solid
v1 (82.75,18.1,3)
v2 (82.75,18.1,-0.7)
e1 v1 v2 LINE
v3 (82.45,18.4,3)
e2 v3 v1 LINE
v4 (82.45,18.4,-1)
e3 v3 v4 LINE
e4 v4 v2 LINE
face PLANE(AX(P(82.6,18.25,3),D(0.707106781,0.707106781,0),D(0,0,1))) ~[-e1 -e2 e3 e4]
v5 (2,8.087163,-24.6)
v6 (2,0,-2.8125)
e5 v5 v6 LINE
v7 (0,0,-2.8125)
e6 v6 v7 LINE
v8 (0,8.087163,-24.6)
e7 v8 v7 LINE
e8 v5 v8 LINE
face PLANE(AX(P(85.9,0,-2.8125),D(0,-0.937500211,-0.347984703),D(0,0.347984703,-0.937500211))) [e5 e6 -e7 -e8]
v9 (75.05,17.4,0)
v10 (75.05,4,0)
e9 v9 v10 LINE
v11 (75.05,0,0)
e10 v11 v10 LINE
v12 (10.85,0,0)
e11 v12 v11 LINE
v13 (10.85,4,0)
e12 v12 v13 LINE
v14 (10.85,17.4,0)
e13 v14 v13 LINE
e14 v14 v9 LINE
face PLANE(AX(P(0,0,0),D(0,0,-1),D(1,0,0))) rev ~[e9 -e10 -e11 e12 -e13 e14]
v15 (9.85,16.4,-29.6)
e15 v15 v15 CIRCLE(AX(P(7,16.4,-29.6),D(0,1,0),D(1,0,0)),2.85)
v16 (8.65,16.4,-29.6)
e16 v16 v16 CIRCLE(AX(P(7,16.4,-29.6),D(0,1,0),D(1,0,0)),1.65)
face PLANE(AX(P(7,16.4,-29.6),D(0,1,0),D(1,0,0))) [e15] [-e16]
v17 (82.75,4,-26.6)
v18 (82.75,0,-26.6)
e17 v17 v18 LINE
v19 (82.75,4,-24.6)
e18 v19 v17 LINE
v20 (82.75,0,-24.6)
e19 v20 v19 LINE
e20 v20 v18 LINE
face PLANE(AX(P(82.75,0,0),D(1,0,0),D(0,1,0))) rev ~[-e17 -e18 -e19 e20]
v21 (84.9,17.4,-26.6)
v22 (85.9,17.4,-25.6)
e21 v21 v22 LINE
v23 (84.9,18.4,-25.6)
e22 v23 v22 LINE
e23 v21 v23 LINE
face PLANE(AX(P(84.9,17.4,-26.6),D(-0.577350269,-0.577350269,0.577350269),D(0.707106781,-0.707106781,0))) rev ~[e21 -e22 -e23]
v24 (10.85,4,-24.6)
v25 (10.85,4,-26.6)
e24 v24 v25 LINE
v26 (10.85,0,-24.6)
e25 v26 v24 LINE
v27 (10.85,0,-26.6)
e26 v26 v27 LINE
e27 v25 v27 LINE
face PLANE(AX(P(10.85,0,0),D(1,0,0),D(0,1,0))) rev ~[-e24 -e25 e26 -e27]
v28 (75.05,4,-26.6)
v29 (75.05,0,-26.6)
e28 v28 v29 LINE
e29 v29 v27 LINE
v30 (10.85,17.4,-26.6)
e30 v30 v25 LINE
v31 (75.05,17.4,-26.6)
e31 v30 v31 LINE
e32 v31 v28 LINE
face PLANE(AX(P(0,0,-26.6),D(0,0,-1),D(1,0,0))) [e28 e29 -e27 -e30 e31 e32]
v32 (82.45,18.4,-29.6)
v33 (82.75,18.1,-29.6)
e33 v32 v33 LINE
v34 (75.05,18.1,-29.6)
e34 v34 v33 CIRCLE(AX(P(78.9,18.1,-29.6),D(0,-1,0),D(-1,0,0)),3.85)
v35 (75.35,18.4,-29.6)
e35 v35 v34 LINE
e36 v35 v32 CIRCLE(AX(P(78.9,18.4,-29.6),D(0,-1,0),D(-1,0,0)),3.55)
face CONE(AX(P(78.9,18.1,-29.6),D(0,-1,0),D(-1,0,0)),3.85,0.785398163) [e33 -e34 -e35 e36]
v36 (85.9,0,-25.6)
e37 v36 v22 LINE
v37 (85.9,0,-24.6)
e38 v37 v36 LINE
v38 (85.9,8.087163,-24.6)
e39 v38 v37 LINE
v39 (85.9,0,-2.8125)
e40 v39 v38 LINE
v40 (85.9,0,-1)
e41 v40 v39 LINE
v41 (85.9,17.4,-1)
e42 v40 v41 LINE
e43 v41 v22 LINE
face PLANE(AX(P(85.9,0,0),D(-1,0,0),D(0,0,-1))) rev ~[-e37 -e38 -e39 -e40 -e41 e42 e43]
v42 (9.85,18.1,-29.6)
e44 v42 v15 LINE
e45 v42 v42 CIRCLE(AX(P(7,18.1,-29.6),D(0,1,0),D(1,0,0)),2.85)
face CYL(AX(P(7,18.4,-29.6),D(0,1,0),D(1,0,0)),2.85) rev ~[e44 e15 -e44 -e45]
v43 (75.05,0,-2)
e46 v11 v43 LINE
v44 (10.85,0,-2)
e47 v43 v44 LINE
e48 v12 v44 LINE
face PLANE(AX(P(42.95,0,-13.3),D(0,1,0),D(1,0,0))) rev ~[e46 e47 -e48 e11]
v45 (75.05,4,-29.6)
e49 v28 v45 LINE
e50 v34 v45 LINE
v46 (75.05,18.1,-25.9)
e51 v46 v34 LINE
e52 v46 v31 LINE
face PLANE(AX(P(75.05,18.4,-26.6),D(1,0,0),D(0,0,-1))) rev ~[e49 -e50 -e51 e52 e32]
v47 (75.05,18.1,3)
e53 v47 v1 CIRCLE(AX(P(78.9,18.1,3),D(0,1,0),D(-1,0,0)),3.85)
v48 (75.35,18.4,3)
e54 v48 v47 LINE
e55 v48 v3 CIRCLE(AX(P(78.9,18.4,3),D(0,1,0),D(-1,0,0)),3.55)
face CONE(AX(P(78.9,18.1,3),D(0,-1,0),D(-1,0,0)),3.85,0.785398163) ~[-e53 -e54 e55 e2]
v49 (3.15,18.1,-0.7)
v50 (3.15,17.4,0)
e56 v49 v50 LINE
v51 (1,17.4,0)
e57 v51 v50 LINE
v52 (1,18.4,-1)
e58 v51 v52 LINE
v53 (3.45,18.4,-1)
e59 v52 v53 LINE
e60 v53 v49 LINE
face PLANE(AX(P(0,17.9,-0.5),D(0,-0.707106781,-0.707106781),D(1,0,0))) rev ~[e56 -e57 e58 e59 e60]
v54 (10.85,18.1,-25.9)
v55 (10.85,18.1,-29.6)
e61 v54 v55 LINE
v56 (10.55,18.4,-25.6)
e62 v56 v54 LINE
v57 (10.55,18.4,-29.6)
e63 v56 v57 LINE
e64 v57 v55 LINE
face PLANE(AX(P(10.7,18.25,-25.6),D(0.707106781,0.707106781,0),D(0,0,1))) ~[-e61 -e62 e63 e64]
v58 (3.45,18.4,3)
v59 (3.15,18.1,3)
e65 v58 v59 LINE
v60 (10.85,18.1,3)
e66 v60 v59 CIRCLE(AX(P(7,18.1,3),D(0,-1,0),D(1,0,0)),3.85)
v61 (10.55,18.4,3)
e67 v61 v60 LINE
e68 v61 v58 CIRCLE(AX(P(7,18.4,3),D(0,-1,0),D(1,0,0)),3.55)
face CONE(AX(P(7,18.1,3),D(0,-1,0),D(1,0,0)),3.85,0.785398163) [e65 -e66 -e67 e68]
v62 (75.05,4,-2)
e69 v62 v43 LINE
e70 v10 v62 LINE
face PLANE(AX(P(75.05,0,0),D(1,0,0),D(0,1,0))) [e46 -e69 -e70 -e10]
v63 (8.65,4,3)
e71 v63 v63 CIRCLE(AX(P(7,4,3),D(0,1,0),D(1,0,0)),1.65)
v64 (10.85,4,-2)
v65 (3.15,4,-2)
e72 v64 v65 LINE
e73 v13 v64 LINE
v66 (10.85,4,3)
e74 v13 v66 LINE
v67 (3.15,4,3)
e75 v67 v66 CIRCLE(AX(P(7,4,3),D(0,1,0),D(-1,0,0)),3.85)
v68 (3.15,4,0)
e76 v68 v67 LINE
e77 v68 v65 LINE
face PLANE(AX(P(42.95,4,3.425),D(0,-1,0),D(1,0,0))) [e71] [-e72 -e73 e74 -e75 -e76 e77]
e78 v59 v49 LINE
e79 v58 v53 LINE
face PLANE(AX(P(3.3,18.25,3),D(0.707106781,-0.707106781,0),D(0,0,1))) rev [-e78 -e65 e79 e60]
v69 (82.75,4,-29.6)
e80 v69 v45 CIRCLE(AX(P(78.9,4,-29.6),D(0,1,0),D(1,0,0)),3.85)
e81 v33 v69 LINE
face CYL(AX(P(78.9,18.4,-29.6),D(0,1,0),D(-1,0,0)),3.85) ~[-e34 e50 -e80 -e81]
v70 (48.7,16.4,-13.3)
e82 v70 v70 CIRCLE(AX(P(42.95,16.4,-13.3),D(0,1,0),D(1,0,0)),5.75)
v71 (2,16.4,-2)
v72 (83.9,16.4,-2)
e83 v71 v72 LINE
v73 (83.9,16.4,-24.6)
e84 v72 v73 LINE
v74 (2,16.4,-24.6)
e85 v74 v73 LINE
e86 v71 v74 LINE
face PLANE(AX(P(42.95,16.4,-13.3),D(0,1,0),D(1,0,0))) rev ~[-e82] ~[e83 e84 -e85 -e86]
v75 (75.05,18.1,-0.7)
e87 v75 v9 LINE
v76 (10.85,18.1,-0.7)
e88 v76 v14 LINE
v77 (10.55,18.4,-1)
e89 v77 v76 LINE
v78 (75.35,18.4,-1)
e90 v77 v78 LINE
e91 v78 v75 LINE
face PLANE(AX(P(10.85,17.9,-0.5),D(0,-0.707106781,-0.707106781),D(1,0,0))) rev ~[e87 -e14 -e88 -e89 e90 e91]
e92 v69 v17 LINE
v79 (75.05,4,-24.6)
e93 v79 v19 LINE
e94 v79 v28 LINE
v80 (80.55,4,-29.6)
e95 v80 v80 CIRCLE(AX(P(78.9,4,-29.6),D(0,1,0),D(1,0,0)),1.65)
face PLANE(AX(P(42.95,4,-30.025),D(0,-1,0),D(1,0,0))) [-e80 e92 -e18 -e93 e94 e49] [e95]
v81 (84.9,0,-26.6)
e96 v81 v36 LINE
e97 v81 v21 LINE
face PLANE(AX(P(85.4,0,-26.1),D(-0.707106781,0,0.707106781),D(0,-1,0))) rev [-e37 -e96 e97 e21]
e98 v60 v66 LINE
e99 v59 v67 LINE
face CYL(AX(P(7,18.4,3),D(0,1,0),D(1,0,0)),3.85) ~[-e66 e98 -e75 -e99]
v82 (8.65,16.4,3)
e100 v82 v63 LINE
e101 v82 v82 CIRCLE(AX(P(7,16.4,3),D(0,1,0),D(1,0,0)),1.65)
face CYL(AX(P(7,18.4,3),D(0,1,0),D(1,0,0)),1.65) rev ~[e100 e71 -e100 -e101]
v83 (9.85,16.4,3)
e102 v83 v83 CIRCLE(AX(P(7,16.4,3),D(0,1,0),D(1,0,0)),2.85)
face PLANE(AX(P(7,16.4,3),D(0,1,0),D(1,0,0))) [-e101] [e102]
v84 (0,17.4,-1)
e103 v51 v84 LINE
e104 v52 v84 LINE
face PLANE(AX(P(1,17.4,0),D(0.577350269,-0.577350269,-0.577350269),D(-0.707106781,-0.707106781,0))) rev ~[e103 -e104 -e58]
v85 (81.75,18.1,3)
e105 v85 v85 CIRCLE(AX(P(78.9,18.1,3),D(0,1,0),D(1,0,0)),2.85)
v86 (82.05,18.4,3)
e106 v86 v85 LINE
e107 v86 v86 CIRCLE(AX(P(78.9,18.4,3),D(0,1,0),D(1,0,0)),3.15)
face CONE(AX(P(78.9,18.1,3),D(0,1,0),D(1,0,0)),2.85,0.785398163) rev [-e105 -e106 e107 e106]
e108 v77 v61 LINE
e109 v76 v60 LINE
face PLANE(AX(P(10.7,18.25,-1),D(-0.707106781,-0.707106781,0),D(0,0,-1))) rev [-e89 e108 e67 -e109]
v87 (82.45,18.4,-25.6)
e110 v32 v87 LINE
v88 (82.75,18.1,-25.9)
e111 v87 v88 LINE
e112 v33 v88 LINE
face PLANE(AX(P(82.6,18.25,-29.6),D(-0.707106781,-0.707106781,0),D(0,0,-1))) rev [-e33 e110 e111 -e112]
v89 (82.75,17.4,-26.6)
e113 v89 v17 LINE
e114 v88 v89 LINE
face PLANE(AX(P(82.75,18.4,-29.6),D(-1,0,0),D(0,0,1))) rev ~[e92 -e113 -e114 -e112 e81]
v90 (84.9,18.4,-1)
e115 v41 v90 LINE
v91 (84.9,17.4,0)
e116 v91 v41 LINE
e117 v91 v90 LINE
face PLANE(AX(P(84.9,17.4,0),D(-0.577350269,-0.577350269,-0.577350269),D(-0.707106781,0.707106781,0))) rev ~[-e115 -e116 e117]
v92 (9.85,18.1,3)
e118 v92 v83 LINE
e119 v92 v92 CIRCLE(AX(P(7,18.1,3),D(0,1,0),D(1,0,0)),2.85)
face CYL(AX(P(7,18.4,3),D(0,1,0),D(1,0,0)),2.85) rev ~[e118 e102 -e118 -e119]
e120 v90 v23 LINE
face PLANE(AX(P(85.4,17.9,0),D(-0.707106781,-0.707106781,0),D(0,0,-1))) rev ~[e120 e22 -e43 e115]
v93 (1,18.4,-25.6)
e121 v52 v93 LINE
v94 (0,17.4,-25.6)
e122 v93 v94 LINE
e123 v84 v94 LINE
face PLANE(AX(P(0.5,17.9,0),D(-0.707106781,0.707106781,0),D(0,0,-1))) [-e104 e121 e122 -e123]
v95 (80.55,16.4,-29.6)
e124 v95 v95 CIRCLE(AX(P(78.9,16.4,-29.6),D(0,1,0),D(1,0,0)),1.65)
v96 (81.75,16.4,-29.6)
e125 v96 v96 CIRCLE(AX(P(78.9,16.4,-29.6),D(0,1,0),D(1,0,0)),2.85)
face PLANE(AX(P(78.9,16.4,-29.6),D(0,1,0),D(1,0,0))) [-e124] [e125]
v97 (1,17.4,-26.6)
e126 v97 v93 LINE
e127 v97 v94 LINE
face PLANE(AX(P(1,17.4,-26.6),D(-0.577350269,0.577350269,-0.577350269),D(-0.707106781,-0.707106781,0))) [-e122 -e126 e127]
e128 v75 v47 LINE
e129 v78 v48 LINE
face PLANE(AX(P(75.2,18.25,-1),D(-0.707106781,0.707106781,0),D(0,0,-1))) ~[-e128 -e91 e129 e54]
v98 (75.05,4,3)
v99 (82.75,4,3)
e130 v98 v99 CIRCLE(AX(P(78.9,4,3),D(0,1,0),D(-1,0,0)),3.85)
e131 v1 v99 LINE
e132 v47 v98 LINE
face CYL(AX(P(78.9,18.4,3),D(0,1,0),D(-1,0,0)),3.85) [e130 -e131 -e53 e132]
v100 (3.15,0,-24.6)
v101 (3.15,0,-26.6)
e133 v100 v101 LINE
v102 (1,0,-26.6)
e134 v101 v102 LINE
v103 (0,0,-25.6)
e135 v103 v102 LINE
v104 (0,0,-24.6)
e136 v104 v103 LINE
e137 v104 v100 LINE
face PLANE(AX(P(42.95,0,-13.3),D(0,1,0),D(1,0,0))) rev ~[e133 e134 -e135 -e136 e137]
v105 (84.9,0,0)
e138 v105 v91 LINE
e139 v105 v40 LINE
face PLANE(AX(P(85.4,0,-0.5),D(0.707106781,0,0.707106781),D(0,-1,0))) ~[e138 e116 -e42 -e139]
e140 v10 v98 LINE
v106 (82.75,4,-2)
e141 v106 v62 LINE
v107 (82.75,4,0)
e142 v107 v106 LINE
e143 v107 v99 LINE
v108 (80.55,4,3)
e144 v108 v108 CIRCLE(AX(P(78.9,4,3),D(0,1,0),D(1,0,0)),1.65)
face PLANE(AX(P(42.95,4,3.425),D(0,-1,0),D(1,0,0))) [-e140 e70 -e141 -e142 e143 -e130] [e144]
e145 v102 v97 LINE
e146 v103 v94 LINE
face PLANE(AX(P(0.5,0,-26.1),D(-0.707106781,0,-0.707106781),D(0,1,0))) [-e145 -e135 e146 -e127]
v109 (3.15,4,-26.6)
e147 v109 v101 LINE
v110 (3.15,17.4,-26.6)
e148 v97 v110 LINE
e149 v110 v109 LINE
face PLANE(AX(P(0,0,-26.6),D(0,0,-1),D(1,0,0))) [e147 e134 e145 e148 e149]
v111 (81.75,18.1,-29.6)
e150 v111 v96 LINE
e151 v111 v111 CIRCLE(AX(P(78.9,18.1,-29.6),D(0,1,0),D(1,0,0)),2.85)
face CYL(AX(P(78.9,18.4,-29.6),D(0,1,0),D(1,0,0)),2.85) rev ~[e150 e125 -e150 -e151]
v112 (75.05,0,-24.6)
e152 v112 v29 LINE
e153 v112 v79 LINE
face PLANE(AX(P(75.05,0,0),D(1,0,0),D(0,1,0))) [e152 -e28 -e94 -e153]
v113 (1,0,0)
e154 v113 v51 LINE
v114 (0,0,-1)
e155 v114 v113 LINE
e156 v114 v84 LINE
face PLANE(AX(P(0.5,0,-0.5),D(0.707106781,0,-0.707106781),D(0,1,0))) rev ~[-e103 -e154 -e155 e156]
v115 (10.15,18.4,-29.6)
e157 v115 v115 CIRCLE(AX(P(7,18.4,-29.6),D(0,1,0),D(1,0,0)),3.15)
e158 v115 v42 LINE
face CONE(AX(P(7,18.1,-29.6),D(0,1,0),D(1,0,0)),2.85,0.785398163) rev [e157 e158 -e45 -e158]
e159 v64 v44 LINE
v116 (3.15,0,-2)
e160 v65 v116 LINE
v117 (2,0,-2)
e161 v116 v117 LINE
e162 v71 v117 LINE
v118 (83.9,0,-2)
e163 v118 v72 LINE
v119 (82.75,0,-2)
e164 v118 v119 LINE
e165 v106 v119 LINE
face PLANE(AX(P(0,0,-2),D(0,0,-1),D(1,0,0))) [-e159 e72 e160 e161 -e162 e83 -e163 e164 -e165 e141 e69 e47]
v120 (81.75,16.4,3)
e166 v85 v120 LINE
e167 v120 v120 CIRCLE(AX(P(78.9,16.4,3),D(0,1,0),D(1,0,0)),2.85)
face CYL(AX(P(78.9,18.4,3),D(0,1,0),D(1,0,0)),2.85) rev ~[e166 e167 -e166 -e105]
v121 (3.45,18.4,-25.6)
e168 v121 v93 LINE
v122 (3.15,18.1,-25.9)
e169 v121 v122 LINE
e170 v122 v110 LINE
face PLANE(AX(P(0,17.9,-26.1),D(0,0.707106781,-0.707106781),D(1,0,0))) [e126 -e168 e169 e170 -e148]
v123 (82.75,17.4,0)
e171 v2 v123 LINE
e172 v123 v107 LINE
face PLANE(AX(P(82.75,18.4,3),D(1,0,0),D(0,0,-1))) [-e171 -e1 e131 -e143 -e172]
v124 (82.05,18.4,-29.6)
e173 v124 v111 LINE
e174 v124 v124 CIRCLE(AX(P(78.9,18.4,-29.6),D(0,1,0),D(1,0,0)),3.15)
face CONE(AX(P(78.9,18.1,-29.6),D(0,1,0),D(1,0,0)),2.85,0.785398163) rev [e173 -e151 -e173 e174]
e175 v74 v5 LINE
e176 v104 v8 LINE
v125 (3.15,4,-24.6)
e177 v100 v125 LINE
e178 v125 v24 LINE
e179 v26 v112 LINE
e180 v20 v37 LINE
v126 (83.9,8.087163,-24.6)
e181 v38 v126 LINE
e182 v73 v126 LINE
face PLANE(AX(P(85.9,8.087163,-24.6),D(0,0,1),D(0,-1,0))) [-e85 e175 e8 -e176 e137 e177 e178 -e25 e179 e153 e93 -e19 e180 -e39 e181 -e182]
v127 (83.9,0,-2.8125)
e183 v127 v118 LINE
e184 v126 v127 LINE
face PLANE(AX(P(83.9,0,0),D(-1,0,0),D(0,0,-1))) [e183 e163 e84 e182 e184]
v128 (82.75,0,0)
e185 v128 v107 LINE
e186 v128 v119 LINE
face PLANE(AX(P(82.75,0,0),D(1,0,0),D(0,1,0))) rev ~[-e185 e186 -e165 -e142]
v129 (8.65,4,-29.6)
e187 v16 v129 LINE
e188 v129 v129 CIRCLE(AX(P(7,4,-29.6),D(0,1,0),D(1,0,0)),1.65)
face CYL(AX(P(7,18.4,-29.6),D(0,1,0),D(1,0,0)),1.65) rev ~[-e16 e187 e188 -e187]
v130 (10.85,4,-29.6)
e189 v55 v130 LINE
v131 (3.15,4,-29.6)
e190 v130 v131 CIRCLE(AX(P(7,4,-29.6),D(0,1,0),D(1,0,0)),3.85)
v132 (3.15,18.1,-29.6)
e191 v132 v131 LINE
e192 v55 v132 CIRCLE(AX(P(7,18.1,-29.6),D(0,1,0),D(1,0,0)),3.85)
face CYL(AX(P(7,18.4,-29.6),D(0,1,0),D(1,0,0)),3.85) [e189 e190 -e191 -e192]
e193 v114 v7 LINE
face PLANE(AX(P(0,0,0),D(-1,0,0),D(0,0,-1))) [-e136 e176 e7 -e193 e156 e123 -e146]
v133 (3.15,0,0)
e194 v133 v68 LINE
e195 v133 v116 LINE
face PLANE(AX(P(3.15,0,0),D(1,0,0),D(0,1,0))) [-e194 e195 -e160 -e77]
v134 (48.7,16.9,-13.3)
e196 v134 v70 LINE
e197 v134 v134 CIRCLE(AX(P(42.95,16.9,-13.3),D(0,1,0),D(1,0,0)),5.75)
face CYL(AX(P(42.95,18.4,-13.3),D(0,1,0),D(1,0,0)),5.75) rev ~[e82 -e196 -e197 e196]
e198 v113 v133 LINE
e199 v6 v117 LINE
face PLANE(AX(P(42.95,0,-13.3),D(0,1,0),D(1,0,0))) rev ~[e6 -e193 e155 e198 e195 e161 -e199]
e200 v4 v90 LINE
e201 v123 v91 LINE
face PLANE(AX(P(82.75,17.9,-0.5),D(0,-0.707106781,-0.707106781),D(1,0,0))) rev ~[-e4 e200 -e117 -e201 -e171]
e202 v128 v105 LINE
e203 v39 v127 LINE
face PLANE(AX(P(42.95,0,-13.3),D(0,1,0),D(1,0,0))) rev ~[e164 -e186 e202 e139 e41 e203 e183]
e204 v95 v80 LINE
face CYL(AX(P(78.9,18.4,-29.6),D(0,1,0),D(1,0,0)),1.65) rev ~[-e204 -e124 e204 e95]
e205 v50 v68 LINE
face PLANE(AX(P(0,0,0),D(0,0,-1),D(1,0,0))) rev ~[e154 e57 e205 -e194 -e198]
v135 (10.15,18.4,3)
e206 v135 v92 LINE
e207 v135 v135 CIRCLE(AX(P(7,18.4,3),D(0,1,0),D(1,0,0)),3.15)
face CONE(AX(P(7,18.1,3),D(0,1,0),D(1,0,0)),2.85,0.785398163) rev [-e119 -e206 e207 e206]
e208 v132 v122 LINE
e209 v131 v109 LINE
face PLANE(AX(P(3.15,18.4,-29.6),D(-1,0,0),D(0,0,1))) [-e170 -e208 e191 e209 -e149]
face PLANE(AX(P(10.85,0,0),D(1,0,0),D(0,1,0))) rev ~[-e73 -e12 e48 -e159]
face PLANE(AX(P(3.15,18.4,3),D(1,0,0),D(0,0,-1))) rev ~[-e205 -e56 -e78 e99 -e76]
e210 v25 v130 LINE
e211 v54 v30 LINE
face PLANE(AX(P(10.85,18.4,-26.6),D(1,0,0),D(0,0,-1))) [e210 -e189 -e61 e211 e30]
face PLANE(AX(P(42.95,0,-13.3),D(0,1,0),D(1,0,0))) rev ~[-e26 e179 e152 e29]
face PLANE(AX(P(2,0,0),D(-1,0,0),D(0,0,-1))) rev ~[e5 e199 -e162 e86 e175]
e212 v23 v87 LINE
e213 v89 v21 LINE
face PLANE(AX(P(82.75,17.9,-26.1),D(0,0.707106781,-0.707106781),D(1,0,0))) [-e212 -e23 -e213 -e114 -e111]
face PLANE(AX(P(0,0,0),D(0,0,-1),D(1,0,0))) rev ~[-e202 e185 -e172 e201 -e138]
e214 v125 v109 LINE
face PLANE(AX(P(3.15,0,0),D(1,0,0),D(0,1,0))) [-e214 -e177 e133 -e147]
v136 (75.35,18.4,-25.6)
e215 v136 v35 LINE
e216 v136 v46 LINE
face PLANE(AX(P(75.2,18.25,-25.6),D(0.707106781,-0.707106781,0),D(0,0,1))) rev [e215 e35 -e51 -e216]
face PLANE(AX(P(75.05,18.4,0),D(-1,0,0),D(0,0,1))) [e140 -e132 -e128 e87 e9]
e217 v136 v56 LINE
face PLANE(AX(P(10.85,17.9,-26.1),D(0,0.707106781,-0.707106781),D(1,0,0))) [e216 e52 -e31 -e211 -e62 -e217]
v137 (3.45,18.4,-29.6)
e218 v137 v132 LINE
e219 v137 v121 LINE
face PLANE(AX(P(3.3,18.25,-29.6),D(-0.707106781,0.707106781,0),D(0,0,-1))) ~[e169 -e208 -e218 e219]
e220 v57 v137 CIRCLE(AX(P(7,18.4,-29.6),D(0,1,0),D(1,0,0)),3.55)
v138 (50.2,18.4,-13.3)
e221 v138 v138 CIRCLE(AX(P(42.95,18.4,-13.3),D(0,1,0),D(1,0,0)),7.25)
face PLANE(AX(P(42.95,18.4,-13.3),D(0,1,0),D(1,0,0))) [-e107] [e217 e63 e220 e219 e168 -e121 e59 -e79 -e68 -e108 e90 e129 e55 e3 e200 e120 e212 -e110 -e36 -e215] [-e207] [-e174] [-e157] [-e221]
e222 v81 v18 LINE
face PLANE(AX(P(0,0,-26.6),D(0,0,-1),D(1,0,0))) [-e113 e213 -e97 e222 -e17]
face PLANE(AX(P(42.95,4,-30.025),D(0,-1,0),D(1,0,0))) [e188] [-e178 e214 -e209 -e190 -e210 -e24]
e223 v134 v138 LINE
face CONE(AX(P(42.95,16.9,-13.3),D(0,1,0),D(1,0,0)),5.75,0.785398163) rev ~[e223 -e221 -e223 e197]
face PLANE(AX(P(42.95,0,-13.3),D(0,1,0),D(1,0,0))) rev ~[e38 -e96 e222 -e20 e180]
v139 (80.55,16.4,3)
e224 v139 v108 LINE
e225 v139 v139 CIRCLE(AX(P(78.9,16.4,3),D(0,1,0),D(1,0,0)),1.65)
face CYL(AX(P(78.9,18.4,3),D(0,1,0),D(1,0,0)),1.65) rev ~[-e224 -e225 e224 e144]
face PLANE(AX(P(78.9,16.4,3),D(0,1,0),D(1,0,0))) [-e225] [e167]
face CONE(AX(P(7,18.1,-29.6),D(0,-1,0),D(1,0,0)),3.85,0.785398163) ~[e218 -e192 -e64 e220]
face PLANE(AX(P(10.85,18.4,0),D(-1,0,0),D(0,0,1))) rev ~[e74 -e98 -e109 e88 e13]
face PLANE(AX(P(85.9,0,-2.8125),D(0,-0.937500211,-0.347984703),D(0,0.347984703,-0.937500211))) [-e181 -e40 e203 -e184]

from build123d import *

# Parameters (mm, degrees)
SKETCH1_W           = 85.9
SKETCH1_H           = 26.6
BOSS_EXTRUDE1_DEPTH = 18.4
SHELL1_T            = -2
SKETCH2_R           = 5.75
CUT_EXTRUDE1_DEPTH  = 19.4
CUT_EXTRUDE2_DEPTH  = 86.9
CHAMFER1_SIZE       = 1.5
BOSS_EXTRUDE2_DEPTH = 18.4
SKETCH5_R           = 1.65
CUT_EXTRUDE3_DEPTH  = 19.4
SKETCH6_R           = 2.85
CUT_EXTRUDE4_DEPTH  = 2
CHAMFER2_SIZE       = 0.3
CHAMFER3_SIZE       = 1
SKETCH7_W           = 79.6
SKETCH7_H           = 6.85
CUT_EXTRUDE5_DEPTH  = 4
CHAMFER4_SIZE       = 0.3
SKETCH8_W           = 7.7
SKETCH8_H           = 4
CUT_EXTRUDE6_DEPTH  = 34.45


with BuildPart() as part:
    # Sketch1 → Boss-Extrude1 (new body)
    with BuildSketch(Plane(origin=(0, 0, 0), x_dir=(1, 0, 0), z_dir=(0, 1, 0))):
        with Locations((42.95, 13.3)):
            Rectangle(SKETCH1_W, SKETCH1_H)
    extrude(amount=BOSS_EXTRUDE1_DEPTH)

    # Shell1
    shell1_openings = [part.faces().sort_by_distance(p)[0] for p in [
        (42.95, 0, -13.3),
    ]]
    offset(amount=SHELL1_T, openings=shell1_openings, kind=Kind.INTERSECTION)

    # Sketch2 → Cut-Extrude1 (cut, through all)
    with BuildSketch(Plane(origin=(0, 18.4, 0), x_dir=(1, 0, 0), z_dir=(0, 1, 0))):
        with Locations((42.95, 13.3)):
            Circle(SKETCH2_R)
    extrude(amount=-CUT_EXTRUDE1_DEPTH, mode=Mode.SUBTRACT)

    # Sketch3 → Cut-Extrude2 (cut, through all)
    with BuildSketch(Plane(origin=(85.9, 0, 0), x_dir=(0, 0, -1), z_dir=(1, 0, 0))):
        Polygon((2.8125, 0), (24.6, 8.087162678), (24.6, 0), align=None)
    extrude(amount=-CUT_EXTRUDE2_DEPTH, mode=Mode.SUBTRACT)

    # Chamfer1
    chamfer1_edges = [part.edges().sort_by_distance(p)[0] for p in [
        (37.2, 18.4, -13.3),
    ]]
    chamfer(chamfer1_edges, length=CHAMFER1_SIZE)

    # Sketch4 → Boss-Extrude2 (add)
    with BuildSketch(Plane(origin=(0, 18.4, 0), x_dir=(1, 0, 0), z_dir=(0, 1, 0))):
        with BuildLine():
            Line((3.15, 29.6), (3.15, 26.6))
            Line((3.15, 26.6), (10.85, 26.6))
            Line((10.85, 26.6), (10.85, 29.6))
            ThreePointArc((10.85, 29.6), (7, 33.45), (3.15, 29.6))
        make_face()
        with BuildLine():
            Line((3.15, -3), (3.15, 0))
            Line((3.15, 0), (10.85, 0))
            Line((10.85, 0), (10.85, -3))
            ThreePointArc((10.85, -3), (7, -6.85), (3.15, -3))
        make_face()
        with BuildLine():
            Line((75.05, 0), (75.05, -3))
            ThreePointArc((75.05, -3), (78.9, -6.85), (82.75, -3))
            Line((82.75, -3), (82.75, 0))
            Line((82.75, 0), (75.05, 0))
        make_face()
        with BuildLine():
            Line((75.05, 26.6), (75.05, 29.6))
            ThreePointArc((75.05, 29.6), (78.9, 33.45), (82.75, 29.6))
            Line((82.75, 29.6), (82.75, 26.6))
            Line((82.75, 26.6), (75.05, 26.6))
        make_face()
    extrude(amount=-BOSS_EXTRUDE2_DEPTH)

    # Sketch5 → Cut-Extrude3 (cut, through all)
    with BuildSketch(Plane(origin=(0, 18.4, 0), x_dir=(1, 0, 0), z_dir=(0, 1, 0))):
        with Locations((7, 29.6)):
            Circle(SKETCH5_R)
        with Locations((7, -3)):
            Circle(SKETCH5_R)
        with Locations((78.9, -3)):
            Circle(SKETCH5_R)
        with Locations((78.9, 29.6)):
            Circle(SKETCH5_R)
    extrude(amount=-CUT_EXTRUDE3_DEPTH, mode=Mode.SUBTRACT)

    # Sketch6 → Cut-Extrude4 (cut)
    with BuildSketch(Plane(origin=(0, 18.4, 0), x_dir=(1, 0, 0), z_dir=(0, 1, 0))):
        with Locations((7, 29.6)):
            Circle(SKETCH6_R)
        with Locations((78.9, 29.6)):
            Circle(SKETCH6_R)
        with Locations((78.9, -3)):
            Circle(SKETCH6_R)
        with Locations((7, -3)):
            Circle(SKETCH6_R)
    extrude(amount=-CUT_EXTRUDE4_DEPTH, mode=Mode.SUBTRACT)

    # Chamfer2
    chamfer2_edges = [part.edges().sort_by_distance(p)[0] for p in [
        (4.15, 18.4, 3),
        (76.05, 18.4, 3),
        (76.05, 18.4, -29.6),
        (4.15, 18.4, -29.6),
    ]]
    chamfer(chamfer2_edges, length=CHAMFER2_SIZE)

    # Chamfer3
    chamfer3_edges = [part.edges().sort_by_distance(p)[0] for p in [
        (85.9, 18.4, -13.3),
        (84.325, 18.4, -26.6),
        (0, 18.4, -13.3),
        (1.575, 18.4, -26.6),
        (42.95, 18.4, 0),
        (1.575, 18.4, 0),
        (0, 9.2, -26.6),
        (85.9, 9.2, -26.6),
        (85.9, 9.2, 0),
        (0, 9.2, 0),
        (84.325, 18.4, 0),
        (42.95, 18.4, -26.6),
    ]]
    chamfer(chamfer3_edges, length=CHAMFER3_SIZE)

    # Sketch7 → Cut-Extrude5 (cut)
    with BuildSketch(Plane.XZ):
        with Locations((42.95, 3.425)):
            Rectangle(SKETCH7_W, SKETCH7_H)
        with Locations((42.95, -30.025)):
            Rectangle(SKETCH7_W, SKETCH7_H)
    extrude(amount=-CUT_EXTRUDE5_DEPTH, mode=Mode.SUBTRACT)

    # Chamfer4
    chamfer4_edges = [part.edges().sort_by_distance(p)[0] for p in [
        (7, 18.4, -33.45),
        (3.15, 18.4, -27.6),
        (10.85, 18.4, -27.6),
        (7, 18.4, 6.85),
        (10.85, 18.4, 1),
        (3.15, 18.4, 1),
        (78.9, 18.4, 6.85),
        (82.75, 18.4, 1),
        (75.05, 18.4, 1),
        (78.9, 18.4, -33.45),
        (75.05, 18.4, -27.6),
        (82.75, 18.4, -27.6),
    ]]
    chamfer(chamfer4_edges, length=CHAMFER4_SIZE)

    # Sketch8 → Cut-Extrude6 (cut, through all)
    with BuildSketch(Plane.XY):
        with Locations((7, 2)):
            Rectangle(SKETCH8_W, SKETCH8_H)
        with Locations((78.9, 2)):
            Rectangle(SKETCH8_W, SKETCH8_H)
    extrude(amount=-CUT_EXTRUDE6_DEPTH, mode=Mode.SUBTRACT)


solid = part.part
